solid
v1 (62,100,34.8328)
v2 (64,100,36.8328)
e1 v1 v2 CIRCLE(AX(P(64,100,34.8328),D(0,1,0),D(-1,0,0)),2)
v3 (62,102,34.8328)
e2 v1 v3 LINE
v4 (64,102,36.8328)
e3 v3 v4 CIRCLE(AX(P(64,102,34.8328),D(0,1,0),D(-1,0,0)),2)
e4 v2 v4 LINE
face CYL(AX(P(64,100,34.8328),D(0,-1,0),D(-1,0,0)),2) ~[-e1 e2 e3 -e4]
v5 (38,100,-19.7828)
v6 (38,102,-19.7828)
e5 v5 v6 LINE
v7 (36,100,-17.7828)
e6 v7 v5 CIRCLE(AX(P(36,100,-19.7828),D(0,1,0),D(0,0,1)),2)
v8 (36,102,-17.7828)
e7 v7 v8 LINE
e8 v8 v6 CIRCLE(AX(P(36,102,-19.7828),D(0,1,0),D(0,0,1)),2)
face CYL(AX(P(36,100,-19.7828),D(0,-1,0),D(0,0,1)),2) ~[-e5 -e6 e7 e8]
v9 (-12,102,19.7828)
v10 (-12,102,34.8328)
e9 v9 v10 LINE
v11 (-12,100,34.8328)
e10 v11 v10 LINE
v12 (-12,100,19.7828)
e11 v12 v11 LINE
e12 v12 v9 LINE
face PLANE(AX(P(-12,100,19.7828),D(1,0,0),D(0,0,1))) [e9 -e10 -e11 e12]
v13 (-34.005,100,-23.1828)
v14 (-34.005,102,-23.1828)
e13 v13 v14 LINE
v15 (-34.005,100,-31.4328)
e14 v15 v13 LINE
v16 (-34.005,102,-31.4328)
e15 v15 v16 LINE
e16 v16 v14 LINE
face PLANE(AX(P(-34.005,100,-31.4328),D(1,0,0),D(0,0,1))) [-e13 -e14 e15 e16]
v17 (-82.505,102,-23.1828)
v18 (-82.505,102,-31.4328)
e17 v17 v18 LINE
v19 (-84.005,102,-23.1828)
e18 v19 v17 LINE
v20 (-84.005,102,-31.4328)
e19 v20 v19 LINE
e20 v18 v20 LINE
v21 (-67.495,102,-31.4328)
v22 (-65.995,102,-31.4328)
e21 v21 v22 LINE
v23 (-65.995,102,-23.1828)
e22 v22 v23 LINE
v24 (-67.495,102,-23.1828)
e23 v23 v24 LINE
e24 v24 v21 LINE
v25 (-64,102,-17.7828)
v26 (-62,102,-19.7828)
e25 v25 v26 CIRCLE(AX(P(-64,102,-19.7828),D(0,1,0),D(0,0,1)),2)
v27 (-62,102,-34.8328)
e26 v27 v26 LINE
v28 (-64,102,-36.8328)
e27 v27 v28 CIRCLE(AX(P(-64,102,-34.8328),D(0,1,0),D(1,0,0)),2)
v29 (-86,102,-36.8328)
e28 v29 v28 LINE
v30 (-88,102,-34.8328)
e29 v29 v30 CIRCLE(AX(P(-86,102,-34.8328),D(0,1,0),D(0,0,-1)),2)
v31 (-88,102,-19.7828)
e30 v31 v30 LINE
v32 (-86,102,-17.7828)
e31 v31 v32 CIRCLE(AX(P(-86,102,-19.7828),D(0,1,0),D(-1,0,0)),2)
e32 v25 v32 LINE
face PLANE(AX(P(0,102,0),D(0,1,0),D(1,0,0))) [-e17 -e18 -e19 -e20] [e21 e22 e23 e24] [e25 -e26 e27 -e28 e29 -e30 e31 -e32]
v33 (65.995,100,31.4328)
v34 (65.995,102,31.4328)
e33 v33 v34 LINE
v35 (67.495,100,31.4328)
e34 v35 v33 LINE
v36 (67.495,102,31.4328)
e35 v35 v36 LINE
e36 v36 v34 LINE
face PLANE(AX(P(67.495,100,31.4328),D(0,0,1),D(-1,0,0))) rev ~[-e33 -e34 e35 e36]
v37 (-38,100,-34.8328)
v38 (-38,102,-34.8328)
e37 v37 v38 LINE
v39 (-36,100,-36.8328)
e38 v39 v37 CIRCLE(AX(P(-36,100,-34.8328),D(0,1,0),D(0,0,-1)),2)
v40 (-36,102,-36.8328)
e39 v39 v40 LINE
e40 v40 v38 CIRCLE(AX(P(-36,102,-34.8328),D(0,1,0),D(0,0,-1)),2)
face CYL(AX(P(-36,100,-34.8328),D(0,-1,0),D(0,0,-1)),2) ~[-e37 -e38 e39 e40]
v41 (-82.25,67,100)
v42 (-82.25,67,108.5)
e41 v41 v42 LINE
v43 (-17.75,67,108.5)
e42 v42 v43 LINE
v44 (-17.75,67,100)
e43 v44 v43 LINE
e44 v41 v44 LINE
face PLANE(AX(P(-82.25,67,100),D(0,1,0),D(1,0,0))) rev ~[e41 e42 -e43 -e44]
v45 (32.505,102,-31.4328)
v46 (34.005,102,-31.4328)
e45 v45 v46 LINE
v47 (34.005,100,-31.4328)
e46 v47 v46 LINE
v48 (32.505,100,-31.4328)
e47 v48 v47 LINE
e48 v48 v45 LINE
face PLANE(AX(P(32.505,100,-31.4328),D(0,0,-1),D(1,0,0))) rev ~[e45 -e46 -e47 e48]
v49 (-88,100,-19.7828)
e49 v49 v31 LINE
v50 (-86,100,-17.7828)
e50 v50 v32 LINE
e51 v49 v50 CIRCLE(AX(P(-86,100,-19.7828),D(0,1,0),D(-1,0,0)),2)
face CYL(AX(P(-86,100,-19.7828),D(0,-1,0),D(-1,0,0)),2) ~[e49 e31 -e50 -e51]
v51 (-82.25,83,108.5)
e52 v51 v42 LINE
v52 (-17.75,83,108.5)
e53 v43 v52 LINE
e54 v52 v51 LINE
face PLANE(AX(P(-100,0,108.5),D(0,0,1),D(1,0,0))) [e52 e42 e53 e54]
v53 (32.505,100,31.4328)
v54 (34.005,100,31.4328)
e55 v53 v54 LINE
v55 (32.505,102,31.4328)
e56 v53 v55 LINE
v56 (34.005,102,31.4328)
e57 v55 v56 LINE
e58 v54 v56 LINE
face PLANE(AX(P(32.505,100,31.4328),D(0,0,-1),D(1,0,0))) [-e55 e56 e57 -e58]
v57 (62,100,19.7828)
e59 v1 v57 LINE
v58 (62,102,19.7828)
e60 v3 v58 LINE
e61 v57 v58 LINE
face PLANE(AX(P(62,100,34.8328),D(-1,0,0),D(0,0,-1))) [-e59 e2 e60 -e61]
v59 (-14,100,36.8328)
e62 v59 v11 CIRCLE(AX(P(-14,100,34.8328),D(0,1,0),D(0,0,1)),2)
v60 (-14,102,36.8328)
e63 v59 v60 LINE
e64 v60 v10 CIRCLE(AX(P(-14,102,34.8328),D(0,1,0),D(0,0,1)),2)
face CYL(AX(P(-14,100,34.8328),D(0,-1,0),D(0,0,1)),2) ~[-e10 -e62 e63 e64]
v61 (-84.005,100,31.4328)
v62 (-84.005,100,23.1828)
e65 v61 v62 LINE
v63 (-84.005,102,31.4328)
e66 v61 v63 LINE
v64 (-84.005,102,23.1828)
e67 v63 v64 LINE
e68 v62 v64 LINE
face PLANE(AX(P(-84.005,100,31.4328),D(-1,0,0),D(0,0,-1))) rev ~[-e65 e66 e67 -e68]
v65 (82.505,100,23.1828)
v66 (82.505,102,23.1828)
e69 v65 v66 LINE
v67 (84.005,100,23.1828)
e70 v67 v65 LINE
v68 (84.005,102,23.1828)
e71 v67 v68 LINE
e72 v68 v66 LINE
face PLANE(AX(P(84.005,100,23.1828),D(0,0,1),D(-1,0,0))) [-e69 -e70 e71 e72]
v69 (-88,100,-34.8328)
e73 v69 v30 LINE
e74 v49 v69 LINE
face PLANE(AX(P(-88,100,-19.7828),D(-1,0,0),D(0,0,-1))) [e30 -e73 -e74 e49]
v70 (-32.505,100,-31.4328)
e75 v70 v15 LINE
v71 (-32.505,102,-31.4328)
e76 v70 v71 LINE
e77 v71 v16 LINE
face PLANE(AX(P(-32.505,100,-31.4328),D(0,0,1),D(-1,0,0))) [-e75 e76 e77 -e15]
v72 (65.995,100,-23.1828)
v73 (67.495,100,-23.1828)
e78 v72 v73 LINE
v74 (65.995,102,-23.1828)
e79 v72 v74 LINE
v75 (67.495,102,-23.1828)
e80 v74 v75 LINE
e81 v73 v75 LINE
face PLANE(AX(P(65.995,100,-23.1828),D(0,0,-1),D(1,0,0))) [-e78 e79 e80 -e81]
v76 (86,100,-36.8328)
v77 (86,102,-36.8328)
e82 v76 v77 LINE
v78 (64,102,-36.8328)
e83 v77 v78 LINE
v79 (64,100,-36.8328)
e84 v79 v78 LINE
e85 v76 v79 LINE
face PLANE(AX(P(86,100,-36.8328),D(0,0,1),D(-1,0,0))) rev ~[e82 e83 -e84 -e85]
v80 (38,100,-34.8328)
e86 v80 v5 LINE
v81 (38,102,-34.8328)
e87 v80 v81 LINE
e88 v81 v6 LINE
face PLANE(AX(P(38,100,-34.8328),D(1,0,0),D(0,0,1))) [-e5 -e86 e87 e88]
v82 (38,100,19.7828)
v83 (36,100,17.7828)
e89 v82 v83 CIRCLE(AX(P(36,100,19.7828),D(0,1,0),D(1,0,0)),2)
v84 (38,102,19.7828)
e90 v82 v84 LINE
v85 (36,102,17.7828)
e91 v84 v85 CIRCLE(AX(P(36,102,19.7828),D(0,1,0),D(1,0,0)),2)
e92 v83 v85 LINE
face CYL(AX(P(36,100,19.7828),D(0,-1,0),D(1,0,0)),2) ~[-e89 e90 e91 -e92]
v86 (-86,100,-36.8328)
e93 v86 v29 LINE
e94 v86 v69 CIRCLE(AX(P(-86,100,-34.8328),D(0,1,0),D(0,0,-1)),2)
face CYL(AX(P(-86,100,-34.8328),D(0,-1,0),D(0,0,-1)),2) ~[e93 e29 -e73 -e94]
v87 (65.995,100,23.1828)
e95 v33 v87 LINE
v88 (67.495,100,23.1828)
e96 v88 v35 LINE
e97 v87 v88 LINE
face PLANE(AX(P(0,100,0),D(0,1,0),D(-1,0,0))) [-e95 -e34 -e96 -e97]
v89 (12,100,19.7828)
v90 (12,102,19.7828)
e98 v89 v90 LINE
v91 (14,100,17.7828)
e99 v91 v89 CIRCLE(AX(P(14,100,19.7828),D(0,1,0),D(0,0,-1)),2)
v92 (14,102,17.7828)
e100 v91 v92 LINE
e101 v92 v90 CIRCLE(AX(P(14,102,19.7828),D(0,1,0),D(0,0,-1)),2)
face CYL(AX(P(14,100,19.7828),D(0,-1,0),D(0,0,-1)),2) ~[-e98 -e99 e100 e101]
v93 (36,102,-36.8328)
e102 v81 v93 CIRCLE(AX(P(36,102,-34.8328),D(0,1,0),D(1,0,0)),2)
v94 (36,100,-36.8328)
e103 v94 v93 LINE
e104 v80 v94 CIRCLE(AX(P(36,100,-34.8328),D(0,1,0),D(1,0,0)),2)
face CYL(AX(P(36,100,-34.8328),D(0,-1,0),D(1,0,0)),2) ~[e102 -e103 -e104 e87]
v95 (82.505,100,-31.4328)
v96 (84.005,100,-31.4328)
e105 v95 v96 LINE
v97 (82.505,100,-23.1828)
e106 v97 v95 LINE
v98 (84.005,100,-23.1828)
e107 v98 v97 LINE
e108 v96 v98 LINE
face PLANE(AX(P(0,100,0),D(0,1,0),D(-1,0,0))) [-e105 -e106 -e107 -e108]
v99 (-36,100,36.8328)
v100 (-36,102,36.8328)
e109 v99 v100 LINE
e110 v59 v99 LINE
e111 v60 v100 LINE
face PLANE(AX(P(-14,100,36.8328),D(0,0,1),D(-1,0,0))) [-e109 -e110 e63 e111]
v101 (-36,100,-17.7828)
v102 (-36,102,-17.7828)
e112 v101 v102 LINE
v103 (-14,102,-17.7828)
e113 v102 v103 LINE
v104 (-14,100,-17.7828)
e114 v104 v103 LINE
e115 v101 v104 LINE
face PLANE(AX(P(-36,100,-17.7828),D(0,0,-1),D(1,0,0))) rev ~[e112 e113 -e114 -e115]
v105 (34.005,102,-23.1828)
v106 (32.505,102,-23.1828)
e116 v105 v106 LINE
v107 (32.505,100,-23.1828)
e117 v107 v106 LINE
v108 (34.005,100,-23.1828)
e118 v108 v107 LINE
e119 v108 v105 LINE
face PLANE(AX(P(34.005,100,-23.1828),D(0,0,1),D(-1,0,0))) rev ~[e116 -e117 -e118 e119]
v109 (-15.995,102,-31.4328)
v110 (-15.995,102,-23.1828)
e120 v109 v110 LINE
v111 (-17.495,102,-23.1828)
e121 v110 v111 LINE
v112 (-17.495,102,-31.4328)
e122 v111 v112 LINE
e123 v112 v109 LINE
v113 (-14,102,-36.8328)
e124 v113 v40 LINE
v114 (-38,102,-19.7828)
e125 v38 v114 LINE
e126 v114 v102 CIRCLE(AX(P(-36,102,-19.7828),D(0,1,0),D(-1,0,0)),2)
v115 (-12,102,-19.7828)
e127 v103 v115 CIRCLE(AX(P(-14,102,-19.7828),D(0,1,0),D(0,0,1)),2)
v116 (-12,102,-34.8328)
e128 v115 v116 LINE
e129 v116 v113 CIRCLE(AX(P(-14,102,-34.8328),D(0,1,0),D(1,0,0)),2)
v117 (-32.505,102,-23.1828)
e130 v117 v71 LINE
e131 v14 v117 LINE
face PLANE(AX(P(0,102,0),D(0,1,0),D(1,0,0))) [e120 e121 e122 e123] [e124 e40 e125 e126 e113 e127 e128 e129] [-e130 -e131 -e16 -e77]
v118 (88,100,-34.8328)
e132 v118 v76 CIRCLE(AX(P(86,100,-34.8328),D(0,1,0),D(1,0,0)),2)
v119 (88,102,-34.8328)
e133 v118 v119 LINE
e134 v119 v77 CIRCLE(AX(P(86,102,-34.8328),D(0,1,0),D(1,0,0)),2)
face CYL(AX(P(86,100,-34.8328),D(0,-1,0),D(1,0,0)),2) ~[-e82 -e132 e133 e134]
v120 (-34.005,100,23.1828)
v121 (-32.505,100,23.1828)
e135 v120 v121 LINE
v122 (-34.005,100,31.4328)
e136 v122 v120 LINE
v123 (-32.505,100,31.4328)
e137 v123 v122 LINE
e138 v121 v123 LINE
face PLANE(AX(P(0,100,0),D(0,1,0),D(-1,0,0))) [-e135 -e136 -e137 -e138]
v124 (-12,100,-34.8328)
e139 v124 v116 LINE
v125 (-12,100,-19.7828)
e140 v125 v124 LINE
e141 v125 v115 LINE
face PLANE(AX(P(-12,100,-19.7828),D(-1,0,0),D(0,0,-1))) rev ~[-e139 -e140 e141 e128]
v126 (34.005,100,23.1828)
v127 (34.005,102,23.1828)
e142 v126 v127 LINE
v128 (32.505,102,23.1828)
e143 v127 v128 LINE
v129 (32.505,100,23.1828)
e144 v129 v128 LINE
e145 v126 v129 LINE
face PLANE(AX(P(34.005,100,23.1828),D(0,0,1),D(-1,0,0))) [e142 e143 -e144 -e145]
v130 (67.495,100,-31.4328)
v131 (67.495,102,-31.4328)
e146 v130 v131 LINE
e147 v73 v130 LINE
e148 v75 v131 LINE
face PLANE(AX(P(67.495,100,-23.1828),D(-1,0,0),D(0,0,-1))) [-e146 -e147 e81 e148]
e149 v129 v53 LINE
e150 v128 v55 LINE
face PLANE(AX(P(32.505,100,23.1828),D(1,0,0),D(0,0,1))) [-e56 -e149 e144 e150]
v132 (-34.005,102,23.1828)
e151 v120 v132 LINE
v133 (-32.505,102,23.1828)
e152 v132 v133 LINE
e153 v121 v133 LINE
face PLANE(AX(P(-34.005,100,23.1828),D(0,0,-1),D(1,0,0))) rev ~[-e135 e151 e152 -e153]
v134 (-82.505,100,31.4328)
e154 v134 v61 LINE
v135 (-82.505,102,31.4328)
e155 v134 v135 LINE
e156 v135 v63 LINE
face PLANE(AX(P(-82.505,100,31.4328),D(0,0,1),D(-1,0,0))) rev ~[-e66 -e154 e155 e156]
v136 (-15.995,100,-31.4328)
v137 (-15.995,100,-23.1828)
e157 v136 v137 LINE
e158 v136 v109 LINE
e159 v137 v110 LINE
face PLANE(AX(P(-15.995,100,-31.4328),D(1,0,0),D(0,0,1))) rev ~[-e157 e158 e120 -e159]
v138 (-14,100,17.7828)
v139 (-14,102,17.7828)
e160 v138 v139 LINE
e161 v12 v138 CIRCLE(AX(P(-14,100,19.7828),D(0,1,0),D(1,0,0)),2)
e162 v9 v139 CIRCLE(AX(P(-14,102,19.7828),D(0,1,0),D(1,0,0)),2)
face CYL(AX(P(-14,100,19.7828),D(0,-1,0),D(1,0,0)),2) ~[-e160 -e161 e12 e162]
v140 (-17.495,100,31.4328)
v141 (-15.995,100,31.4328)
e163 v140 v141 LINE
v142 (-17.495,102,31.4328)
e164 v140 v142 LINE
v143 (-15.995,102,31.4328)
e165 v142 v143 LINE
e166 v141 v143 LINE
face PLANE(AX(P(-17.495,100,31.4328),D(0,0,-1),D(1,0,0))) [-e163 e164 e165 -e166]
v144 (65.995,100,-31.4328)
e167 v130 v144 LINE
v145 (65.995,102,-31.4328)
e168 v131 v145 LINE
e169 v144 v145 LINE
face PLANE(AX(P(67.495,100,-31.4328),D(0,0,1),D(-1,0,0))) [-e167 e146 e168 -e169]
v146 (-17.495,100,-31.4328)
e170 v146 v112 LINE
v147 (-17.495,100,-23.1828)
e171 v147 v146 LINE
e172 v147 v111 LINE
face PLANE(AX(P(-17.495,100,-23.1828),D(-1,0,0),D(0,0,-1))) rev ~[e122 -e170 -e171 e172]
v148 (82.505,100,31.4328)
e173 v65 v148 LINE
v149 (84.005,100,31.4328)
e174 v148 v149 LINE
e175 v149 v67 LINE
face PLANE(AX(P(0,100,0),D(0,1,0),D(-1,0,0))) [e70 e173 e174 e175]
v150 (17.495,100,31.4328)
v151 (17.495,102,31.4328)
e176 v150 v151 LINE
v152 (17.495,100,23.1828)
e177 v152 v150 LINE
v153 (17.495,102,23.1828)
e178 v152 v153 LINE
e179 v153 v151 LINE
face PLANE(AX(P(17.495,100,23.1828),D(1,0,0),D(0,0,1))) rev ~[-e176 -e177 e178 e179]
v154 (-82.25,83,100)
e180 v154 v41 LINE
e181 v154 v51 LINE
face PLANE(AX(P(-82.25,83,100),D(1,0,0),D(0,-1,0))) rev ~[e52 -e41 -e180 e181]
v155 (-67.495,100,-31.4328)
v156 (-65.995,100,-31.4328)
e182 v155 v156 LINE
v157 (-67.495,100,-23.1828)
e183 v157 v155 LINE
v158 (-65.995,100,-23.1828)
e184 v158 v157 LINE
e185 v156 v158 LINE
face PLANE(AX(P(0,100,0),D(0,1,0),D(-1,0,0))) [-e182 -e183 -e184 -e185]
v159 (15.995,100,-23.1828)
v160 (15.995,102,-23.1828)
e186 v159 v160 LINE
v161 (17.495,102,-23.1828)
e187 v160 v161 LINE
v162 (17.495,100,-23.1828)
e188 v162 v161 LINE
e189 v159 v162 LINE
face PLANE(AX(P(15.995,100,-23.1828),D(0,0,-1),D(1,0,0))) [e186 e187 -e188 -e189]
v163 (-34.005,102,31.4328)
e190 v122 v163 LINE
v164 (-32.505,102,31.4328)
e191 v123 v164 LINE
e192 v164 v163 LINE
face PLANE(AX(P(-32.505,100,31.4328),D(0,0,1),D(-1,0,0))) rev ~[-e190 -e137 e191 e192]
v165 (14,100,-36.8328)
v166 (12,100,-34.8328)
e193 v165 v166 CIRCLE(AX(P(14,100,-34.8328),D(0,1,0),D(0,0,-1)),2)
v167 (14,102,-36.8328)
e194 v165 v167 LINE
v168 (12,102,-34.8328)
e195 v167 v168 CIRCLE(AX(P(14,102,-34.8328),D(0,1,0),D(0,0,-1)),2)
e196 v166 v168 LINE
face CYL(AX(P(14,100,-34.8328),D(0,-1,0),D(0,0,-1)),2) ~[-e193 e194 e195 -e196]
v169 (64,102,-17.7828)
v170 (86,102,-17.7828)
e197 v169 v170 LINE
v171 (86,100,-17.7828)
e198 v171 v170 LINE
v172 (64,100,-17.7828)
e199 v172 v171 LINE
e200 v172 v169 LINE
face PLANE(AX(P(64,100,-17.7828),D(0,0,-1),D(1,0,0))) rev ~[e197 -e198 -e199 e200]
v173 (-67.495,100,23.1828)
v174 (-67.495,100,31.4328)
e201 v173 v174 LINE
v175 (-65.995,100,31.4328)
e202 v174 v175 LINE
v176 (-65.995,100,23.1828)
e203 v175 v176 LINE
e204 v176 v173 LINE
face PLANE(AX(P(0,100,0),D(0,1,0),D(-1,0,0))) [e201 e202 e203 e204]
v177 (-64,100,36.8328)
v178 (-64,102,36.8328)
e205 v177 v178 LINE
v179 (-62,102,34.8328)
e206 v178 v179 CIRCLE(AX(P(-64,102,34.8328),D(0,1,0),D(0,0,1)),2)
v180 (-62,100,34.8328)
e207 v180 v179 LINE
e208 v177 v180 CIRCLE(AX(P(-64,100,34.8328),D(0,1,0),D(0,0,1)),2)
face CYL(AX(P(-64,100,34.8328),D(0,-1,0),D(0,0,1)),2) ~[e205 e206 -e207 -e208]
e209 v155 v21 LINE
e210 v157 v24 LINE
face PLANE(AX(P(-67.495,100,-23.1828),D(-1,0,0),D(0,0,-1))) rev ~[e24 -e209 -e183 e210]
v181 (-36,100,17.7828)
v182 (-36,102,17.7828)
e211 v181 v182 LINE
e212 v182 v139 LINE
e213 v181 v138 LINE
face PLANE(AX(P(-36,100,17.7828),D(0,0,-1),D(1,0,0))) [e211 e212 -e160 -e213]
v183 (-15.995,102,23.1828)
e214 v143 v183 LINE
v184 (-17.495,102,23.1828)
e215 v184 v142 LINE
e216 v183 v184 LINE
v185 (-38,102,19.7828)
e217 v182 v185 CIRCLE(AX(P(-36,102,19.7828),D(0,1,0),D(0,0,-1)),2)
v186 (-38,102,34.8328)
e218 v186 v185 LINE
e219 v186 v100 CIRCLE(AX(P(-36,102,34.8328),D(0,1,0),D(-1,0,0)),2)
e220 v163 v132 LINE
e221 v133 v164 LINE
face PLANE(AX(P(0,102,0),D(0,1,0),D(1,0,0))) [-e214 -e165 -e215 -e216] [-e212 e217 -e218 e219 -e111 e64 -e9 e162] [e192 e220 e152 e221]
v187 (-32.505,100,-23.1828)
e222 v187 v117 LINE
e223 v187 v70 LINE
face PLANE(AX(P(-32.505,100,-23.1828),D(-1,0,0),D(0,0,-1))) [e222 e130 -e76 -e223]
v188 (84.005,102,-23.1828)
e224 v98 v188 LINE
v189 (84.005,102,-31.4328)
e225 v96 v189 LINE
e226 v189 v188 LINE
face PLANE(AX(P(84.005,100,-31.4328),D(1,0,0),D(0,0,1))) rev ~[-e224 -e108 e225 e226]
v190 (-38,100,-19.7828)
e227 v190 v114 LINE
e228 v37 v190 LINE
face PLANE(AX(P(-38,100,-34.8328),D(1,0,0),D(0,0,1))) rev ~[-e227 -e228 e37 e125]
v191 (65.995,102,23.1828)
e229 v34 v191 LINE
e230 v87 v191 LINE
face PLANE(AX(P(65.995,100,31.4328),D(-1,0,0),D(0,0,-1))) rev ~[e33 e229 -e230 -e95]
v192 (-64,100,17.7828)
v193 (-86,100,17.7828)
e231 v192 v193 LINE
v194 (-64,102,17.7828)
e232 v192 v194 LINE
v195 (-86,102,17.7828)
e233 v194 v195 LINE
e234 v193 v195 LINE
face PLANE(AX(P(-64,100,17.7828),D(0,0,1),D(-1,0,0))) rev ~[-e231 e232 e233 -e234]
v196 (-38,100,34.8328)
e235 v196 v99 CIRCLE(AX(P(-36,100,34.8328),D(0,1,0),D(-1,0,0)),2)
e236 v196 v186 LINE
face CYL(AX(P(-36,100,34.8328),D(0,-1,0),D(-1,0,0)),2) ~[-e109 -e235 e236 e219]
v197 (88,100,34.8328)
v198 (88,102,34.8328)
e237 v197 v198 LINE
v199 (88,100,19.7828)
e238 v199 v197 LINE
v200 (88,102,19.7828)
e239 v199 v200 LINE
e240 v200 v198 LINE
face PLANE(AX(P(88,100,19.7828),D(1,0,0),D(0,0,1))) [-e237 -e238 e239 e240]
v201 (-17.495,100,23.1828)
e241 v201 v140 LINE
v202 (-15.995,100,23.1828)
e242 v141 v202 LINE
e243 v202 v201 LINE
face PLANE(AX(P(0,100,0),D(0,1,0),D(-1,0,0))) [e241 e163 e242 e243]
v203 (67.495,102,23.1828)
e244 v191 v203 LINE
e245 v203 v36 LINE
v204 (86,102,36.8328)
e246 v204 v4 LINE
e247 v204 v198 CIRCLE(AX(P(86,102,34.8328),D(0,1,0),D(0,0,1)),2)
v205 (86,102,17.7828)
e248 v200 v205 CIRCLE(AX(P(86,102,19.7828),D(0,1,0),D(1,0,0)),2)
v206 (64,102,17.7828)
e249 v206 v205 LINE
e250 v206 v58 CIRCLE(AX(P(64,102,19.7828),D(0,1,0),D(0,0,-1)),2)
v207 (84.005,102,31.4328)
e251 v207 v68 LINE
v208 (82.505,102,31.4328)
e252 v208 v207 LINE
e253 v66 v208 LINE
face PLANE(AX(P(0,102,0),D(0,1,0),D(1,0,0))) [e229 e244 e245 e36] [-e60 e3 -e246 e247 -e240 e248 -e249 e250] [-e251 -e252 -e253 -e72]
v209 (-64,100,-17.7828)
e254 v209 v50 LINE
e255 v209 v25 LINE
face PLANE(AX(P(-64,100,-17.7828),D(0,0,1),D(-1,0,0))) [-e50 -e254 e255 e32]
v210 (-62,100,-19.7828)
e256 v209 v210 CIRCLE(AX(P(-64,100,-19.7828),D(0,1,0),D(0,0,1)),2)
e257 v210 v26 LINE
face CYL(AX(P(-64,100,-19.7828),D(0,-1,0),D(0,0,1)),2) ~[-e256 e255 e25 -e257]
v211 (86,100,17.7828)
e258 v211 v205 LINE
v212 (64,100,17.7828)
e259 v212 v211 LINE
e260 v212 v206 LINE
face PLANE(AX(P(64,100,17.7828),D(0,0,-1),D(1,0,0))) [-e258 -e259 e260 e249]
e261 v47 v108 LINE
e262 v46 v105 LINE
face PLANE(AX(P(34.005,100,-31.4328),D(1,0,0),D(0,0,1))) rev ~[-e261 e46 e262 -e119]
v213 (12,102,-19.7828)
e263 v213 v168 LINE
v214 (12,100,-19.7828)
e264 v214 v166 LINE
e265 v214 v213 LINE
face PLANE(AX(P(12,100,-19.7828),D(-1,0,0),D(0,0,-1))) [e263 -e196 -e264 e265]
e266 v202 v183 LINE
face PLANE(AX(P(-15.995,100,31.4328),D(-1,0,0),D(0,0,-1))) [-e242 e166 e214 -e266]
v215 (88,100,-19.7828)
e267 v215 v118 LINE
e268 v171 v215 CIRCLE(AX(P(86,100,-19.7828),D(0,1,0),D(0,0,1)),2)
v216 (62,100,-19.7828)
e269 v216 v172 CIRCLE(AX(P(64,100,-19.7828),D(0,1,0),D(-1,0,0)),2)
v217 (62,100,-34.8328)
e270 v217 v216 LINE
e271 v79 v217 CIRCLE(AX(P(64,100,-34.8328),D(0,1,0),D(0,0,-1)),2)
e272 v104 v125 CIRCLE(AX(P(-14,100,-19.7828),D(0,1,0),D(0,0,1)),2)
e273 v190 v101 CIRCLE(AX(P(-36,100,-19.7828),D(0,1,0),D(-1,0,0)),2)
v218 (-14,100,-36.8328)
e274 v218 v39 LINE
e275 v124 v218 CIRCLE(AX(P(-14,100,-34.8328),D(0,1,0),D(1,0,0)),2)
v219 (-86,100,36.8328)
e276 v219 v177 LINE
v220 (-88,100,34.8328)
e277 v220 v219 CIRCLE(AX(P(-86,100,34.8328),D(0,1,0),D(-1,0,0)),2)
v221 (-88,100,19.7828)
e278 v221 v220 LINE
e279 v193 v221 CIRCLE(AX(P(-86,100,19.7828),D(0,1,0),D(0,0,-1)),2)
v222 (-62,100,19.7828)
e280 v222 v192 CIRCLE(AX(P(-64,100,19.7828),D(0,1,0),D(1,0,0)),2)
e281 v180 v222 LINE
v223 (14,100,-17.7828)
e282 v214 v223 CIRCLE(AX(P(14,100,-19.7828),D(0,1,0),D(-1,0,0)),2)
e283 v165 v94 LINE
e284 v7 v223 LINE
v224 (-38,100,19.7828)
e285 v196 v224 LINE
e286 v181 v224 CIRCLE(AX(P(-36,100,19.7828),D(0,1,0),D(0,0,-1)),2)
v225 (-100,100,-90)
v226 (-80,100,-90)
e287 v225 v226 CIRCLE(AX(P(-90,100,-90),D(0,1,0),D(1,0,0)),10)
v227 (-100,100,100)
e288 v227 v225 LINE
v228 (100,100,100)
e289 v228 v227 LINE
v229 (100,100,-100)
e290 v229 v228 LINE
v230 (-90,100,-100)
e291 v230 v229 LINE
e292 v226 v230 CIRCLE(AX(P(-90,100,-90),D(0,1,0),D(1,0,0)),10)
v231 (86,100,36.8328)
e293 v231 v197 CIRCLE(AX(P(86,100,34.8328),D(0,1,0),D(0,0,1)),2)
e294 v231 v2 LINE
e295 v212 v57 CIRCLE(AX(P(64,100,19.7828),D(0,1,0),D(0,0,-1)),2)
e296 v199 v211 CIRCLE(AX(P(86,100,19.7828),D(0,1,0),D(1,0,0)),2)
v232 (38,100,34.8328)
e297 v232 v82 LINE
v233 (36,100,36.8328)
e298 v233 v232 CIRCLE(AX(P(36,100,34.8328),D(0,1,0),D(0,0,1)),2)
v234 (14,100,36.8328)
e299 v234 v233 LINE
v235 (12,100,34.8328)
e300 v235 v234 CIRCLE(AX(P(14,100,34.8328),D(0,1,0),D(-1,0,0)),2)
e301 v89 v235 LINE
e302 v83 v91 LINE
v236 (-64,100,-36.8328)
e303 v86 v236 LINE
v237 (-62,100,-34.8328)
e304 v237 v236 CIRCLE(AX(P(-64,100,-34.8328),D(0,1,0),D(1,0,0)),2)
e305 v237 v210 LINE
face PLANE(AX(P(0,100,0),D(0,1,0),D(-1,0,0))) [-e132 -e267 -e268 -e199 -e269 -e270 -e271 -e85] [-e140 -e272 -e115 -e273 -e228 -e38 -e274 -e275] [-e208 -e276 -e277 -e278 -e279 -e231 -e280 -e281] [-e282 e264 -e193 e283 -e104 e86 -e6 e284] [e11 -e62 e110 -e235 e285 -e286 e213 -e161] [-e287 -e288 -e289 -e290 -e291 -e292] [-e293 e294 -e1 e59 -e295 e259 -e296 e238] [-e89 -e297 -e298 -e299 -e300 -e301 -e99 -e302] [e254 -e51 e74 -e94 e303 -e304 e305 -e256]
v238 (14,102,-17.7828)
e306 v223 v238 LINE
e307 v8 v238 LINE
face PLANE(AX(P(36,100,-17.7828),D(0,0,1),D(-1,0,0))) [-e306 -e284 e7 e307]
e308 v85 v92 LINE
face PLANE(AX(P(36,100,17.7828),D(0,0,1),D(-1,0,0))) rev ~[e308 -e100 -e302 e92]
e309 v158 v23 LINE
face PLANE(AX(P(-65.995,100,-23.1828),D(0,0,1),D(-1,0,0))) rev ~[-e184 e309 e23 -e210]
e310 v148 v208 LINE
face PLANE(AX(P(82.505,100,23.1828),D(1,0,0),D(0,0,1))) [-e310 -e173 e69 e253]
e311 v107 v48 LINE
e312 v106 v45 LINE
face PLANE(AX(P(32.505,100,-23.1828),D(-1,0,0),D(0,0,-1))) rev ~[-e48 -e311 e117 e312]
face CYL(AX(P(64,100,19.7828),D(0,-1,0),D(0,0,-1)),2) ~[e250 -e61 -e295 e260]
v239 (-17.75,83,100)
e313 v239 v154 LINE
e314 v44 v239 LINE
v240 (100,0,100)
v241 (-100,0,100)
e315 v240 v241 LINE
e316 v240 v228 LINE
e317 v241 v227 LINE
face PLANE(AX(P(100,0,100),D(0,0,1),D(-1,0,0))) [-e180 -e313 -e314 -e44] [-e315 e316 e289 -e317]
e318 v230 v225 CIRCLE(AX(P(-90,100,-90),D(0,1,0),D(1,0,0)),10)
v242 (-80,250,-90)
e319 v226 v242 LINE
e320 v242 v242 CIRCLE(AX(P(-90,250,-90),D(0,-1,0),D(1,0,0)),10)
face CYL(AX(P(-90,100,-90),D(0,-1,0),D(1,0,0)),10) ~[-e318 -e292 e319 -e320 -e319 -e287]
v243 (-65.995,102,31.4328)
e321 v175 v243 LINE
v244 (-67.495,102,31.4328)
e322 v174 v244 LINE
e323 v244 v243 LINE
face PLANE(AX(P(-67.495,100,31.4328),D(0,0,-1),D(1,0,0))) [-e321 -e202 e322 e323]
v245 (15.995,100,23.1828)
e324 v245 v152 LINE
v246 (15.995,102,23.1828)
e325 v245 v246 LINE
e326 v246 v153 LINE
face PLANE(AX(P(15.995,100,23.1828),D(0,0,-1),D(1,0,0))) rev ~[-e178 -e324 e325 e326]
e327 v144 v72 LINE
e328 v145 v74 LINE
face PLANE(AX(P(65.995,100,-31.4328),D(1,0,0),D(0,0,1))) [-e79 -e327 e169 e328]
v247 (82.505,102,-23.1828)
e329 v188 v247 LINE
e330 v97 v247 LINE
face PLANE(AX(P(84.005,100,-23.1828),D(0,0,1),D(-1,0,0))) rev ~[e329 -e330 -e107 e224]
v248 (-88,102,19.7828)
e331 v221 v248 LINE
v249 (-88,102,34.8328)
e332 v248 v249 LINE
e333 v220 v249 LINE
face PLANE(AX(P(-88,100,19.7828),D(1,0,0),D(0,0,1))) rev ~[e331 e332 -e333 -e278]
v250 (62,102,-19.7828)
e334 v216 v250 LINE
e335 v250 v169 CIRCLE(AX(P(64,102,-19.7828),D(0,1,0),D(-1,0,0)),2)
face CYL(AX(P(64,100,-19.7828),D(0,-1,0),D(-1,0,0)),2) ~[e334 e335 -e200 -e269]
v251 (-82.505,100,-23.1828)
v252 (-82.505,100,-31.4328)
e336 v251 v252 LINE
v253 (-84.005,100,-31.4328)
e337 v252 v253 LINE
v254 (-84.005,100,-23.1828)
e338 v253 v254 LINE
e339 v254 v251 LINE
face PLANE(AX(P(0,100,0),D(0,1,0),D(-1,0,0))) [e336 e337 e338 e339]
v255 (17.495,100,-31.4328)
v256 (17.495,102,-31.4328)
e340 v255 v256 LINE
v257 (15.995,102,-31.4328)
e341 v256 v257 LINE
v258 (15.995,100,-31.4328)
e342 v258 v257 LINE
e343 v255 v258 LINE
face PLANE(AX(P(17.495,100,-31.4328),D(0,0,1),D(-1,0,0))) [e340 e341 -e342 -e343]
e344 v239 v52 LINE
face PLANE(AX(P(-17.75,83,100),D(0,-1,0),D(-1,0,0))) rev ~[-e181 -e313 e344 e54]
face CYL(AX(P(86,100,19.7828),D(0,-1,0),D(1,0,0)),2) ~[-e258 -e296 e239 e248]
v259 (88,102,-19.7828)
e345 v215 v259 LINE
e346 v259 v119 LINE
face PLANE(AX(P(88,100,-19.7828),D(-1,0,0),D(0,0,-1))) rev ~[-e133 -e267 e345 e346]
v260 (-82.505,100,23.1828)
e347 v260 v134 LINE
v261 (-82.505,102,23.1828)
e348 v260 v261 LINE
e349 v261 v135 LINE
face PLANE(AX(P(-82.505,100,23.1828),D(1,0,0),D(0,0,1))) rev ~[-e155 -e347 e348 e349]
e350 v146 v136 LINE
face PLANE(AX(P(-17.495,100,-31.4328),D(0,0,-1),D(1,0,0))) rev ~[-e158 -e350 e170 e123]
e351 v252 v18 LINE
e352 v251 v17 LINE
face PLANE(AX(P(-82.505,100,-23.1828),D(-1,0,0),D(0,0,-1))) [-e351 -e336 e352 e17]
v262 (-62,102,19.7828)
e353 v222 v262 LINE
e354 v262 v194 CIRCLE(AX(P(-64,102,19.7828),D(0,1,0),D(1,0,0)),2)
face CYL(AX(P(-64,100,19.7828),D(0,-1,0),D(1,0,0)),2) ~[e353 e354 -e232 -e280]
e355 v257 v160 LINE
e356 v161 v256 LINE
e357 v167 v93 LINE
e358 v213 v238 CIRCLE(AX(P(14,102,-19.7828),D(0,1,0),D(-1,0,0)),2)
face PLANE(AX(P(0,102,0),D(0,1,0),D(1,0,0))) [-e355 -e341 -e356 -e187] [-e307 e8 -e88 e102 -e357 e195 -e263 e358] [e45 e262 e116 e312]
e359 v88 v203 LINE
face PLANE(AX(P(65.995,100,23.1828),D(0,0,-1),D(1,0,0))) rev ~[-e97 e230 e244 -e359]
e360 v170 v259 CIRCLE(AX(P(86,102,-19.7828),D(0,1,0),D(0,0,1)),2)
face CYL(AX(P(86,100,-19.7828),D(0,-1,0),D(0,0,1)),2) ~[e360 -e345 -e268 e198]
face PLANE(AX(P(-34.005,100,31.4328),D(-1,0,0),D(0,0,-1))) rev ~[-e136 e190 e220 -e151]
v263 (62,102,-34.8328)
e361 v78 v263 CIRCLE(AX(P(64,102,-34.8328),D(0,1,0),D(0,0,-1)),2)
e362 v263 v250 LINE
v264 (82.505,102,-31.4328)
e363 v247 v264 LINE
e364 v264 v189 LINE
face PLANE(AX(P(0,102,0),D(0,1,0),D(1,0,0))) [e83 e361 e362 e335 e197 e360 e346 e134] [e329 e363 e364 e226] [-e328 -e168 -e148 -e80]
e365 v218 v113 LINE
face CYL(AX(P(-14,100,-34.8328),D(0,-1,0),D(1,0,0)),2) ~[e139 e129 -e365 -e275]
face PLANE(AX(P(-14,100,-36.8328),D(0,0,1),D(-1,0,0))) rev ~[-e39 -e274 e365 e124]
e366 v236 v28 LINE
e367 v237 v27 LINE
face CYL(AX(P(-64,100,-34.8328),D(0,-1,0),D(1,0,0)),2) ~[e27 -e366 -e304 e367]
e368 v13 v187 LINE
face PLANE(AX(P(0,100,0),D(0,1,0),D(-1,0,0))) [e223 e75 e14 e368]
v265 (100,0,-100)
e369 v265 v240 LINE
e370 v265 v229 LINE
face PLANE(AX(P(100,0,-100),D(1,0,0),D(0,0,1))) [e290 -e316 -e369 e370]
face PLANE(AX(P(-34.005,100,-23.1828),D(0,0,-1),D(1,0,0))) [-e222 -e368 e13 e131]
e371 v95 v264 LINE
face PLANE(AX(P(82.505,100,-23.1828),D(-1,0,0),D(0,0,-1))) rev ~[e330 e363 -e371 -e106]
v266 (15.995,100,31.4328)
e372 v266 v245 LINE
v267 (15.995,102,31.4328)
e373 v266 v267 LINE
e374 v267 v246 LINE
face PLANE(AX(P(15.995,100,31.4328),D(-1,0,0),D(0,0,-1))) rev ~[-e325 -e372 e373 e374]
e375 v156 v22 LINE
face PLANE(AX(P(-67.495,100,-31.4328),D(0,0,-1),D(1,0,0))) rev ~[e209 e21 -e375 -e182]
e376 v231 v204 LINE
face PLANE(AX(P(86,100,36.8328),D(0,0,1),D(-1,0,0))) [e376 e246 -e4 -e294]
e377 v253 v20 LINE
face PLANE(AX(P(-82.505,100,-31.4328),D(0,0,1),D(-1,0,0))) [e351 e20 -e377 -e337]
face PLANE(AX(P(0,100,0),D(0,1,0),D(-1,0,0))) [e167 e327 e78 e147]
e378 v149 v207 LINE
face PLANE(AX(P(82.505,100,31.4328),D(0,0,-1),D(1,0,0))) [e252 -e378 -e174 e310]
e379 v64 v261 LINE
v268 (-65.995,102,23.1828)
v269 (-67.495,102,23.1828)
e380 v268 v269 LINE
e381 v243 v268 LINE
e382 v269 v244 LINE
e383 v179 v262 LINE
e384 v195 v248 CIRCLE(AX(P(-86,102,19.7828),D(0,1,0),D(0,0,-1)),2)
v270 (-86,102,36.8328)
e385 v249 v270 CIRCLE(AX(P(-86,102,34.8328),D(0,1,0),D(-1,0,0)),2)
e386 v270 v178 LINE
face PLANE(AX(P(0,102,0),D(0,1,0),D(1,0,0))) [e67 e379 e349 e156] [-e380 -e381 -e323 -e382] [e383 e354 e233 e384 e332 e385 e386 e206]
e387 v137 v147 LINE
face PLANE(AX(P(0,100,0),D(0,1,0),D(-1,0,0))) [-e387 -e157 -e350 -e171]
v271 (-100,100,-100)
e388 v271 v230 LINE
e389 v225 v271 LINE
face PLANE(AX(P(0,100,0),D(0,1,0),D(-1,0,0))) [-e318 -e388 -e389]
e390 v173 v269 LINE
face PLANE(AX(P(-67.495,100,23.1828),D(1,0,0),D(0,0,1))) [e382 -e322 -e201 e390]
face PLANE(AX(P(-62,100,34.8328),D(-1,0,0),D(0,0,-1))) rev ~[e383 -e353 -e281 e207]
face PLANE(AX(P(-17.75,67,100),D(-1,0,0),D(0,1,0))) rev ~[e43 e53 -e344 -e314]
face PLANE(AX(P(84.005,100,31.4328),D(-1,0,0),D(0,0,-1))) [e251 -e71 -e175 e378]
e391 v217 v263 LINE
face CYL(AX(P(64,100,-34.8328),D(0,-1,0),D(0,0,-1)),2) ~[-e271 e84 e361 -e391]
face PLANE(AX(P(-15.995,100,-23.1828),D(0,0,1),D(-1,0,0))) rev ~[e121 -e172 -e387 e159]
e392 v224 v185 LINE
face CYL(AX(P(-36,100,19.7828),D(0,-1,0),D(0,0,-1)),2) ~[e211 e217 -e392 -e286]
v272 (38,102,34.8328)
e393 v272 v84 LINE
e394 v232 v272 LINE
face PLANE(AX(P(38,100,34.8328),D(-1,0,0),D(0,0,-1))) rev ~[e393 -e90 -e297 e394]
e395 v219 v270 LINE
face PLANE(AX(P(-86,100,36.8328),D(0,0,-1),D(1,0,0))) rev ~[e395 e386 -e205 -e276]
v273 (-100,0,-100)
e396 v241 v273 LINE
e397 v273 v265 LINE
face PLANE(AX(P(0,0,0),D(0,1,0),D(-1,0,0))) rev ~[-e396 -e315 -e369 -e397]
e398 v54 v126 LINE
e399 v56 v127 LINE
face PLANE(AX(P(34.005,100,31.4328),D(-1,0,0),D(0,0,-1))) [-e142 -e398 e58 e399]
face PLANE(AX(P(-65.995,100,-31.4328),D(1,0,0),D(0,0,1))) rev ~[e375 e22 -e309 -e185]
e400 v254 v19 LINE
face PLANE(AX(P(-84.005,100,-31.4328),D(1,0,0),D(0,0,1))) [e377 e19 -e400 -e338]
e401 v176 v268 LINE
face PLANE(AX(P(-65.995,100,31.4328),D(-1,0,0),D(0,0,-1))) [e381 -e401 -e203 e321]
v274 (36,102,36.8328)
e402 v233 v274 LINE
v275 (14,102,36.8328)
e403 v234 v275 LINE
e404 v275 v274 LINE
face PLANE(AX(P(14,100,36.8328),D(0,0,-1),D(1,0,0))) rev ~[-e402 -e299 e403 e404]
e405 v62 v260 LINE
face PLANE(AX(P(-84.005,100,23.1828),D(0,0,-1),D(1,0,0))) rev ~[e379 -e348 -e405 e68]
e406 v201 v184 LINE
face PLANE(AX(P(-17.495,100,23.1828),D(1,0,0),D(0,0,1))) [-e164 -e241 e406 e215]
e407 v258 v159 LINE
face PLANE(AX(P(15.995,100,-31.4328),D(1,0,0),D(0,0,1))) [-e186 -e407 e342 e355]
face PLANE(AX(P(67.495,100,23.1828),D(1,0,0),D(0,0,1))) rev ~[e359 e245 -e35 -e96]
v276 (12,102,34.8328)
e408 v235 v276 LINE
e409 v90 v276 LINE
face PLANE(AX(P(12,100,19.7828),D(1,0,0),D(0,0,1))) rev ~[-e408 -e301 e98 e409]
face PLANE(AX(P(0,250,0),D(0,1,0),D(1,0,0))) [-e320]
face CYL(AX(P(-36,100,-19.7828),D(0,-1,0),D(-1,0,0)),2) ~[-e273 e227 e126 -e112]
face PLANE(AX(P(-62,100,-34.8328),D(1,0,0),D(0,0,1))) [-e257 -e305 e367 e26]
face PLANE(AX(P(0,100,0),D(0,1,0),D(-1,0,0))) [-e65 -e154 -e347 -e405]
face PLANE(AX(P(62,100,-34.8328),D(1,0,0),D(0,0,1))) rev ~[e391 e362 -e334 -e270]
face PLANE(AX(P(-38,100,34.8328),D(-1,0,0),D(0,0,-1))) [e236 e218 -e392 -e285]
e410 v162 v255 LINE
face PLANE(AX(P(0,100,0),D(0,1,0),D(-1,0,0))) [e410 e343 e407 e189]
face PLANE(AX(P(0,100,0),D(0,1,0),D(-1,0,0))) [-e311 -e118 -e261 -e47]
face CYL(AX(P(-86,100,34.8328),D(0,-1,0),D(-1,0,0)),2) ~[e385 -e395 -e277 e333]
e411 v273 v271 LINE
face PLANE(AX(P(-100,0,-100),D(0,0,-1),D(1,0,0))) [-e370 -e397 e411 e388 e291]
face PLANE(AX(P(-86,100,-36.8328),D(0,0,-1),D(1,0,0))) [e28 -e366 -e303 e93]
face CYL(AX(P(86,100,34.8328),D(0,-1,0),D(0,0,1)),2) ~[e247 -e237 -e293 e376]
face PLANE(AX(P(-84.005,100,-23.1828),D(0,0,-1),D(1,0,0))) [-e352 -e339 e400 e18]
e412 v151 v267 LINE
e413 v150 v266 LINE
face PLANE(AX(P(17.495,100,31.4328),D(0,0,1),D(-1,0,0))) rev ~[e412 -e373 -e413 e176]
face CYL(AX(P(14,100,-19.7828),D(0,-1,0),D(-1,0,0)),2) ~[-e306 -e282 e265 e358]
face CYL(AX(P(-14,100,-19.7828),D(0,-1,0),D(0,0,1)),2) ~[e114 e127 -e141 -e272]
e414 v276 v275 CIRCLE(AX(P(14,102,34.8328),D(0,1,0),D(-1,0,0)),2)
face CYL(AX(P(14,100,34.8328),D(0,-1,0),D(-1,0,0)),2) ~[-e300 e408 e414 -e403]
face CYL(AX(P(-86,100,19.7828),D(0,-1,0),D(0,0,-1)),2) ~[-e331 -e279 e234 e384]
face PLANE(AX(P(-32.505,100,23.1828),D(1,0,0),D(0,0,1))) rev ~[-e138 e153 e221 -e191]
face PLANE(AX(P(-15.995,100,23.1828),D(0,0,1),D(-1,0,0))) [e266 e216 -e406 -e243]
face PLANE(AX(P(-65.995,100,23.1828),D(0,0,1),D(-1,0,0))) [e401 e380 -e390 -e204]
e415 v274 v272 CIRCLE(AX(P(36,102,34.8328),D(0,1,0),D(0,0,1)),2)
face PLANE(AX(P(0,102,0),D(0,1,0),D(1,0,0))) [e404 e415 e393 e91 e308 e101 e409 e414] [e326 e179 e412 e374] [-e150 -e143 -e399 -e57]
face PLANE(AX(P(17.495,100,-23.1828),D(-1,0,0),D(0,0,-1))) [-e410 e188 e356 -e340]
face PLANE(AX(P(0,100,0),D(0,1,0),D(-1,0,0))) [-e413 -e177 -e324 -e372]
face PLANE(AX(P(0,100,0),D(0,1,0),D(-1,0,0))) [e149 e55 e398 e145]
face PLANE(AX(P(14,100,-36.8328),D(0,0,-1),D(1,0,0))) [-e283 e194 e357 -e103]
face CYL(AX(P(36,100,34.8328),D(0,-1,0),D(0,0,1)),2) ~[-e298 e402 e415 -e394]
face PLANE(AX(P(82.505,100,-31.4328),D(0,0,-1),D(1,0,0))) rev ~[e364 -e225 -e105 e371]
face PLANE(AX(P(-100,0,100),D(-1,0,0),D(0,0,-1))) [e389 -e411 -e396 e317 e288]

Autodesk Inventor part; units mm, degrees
ref_plane "YZ Plane" through (0, 0, 0) normal (1, 0, 0) x (0, 1, 0)
ref_plane "XZ Plane" through (0, 0, 0) normal (0, 1, 0) x (-1, 0, 0)
ref_plane "XY Plane" through (0, 0, 0) normal (0, 0, 1) x (1, 0, 0)
sketch "Boceto1" plane through (0, 0, 0) normal (0, 1, 0) x (-1, 0, 0)
  line L0 (-100, 100) -> (100, 100)
  line L1 (100, 100) -> (100, -100)
  line L2 (100, -100) -> (-100, -100)
  line L3 (-100, -100) -> (-100, 100)
  line L4 (-100, 100) -> (100, -100) construction
  line L5 (100, 100) -> (-100, -100) construction
  point P0 (0, 0)
  dimension "d0" = 200
  dimension "d3" = 200
extrude "Extrusión1" add sketch "Boceto1" along normal blind 100
sketch "Boceto2" plane through (0, 100, 0) normal (0, 1, 0) x (1, 0, 0)
  line L0 (-100, 100) -> (-100, -100) projected
  line L1 (-100, 80) -> (0, 80) construction
  line L2 (100, 100) -> (-100, 100) construction
  line L3 (-100, 100) -> (0, 100) construction
  circle A0 centre (-90, 90) radius 10
  point P0 (0, 0)
  dimension "d4" = 20
extrude "Extrusión2" add sketch "Boceto2" along normal blind 150
sketch "Boceto3" plane through (0, 100, 0) normal (0, 1, 0) x (1, 0, 0)
  line L0 (0, 0) -> (0, 54.6157) construction
  line L1 (0, 54.6157) -> (-100, 54.6157) construction
  line L2 (-100, 100) -> (-100, -100) projected
  line L3 (-50, 54.6157) -> (-50, 0) construction
  line L4 (100, -100) -> (100, 100) projected
  line L5 (0, 54.6157) -> (100, 54.6157) construction
  line L6 (50, 54.6157) -> (50, 0) construction
  line L7 (-100, 0) -> (100, 0) construction
  line L8 (0, -54.6157) -> (-100, -54.6157) construction
  line L9 (-50, -54.6157) -> (-50, 0) construction
  line L10 (0, -54.6157) -> (100, -54.6157) construction
  line L11 (50, -54.6157) -> (50, 0) construction
  line L12 (-75, 27.3078) -> (-75, 54.6157) construction
  line L13 (-86, 36.8328) -> (-64, 36.8328)
  line L14 (-62, 34.8328) -> (-62, 19.7828)
  line L15 (-64, 17.7828) -> (-86, 17.7828)
  line L16 (-88, 19.7828) -> (-88, 34.8328)
  line L17 (-88, 36.8328) -> (-62, 17.7828) construction
  line L18 (-62, 36.8328) -> (-88, 17.7828) construction
  line L19 (-75, 27.3078) -> (-83.255, 27.3078) construction
  line L20 (-83.255, 27.3078) -> (-83.255, 31.4328) construction
  line L21 (-84.005, 23.1828) -> (-82.505, 23.1828)
  line L22 (-82.505, 23.1828) -> (-82.505, 31.4328)
  line L23 (-82.505, 31.4328) -> (-84.005, 31.4328)
  line L24 (-84.005, 31.4328) -> (-84.005, 23.1828)
  line L25 (-84.005, 23.1828) -> (-82.505, 31.4328) construction
  line L26 (-82.505, 23.1828) -> (-84.005, 31.4328) construction
  line L27 (-66.745, 27.3078) -> (-66.745, 31.4328) construction
  line L28 (-65.995, 23.1828) -> (-67.495, 23.1828)
  line L29 (-67.495, 23.1828) -> (-67.495, 31.4328)
  line L30 (-67.495, 31.4328) -> (-65.995, 31.4328)
  line L31 (-65.995, 31.4328) -> (-65.995, 23.1828)
  line L32 (-65.995, 23.1828) -> (-67.495, 31.4328) construction
  line L33 (-67.495, 23.1828) -> (-65.995, 31.4328) construction
  arc A0 (-86, 36.8328) -> (-88, 34.8328) centre (-86, 34.8328) ccw
  arc A1 (-62, 34.8328) -> (-64, 36.8328) centre (-64, 34.8328) ccw
  arc A2 (-88, 19.7828) -> (-86, 17.7828) centre (-86, 19.7828) ccw
  arc A3 (-64, 17.7828) -> (-62, 19.7828) centre (-64, 19.7828) ccw
  line L34 (-25, 27.3078) -> (-25, 54.6157) construction
  line L35 (-14, 36.8328) -> (-36, 36.8328)
  line L36 (-38, 34.8328) -> (-38, 19.7828)
  line L37 (-36, 17.7828) -> (-14, 17.7828)
  line L38 (-12, 19.7828) -> (-12, 34.8328)
  line L39 (-12, 36.8328) -> (-38, 17.7828) construction
  line L40 (-38, 36.8328) -> (-12, 17.7828) construction
  line L41 (-25, 27.3078) -> (-16.745, 27.3078) construction
  line L42 (-16.745, 27.3078) -> (-16.745, 31.4328) construction
  line L43 (-15.995, 23.1828) -> (-17.495, 23.1828)
  line L44 (-17.495, 23.1828) -> (-17.495, 31.4328)
  line L45 (-17.495, 31.4328) -> (-15.995, 31.4328)
  line L46 (-15.995, 31.4328) -> (-15.995, 23.1828)
  line L47 (-15.995, 23.1828) -> (-17.495, 31.4328) construction
  line L48 (-17.495, 23.1828) -> (-15.995, 31.4328) construction
  line L49 (-34.005, 23.1828) -> (-32.505, 23.1828)
  line L50 (-32.505, 23.1828) -> (-32.505, 31.4328)
  line L51 (-34.005, 31.4328) -> (-34.005, 23.1828)
  line L52 (-34.005, 23.1828) -> (-32.505, 31.4328) construction
  line L53 (-32.505, 23.1828) -> (-34.005, 31.4328) construction
  line L54 (-33.255, 27.3078) -> (-33.255, 31.4328) construction
  line L55 (-32.505, 31.4328) -> (-34.005, 31.4328)
  arc A4 (-12, 34.8328) -> (-14, 36.8328) centre (-14, 34.8328) ccw
  arc A5 (-36, 36.8328) -> (-38, 34.8328) centre (-36, 34.8328) ccw
  arc A6 (-14, 17.7828) -> (-12, 19.7828) centre (-14, 19.7828) ccw
  arc A7 (-38, 19.7828) -> (-36, 17.7828) centre (-36, 19.7828) ccw
  line L56 (86, 36.8328) -> (64, 36.8328)
  line L57 (62, 34.8328) -> (62, 19.7828)
  line L58 (64, 17.7828) -> (86, 17.7828)
  line L59 (88, 19.7828) -> (88, 34.8328)
  line L60 (88, 36.8328) -> (62, 17.7828) construction
  line L61 (62, 36.8328) -> (88, 17.7828) construction
  line L62 (75, 27.3078) -> (83.255, 27.3078) construction
  line L63 (83.255, 27.3078) -> (83.255, 31.4328) construction
  line L64 (84.005, 23.1828) -> (82.505, 23.1828)
  line L65 (82.505, 23.1828) -> (82.505, 31.4328)
  line L66 (82.505, 31.4328) -> (84.005, 31.4328)
  line L67 (84.005, 31.4328) -> (84.005, 23.1828)
  line L68 (84.005, 23.1828) -> (82.505, 31.4328) construction
  line L69 (82.505, 23.1828) -> (84.005, 31.4328) construction
  line L70 (65.995, 23.1828) -> (67.495, 23.1828)
  line L71 (67.495, 23.1828) -> (67.495, 31.4328)
  line L72 (65.995, 31.4328) -> (65.995, 23.1828)
  line L73 (65.995, 23.1828) -> (67.495, 31.4328) construction
  line L74 (67.495, 23.1828) -> (65.995, 31.4328) construction
  line L75 (66.745, 27.3078) -> (66.745, 31.4328) construction
  line L76 (67.495, 31.4328) -> (65.995, 31.4328)
  arc A8 (88, 34.8328) -> (86, 36.8328) centre (86, 34.8328) ccw
  arc A9 (64, 36.8328) -> (62, 34.8328) centre (64, 34.8328) ccw
  arc A10 (86, 17.7828) -> (88, 19.7828) centre (86, 19.7828) ccw
  arc A11 (62, 19.7828) -> (64, 17.7828) centre (64, 19.7828) ccw
  arc A12 (36, 17.7828) -> (38, 19.7828) centre (36, 19.7828) ccw
  line L77 (34.005, 23.1828) -> (32.505, 23.1828)
  line L78 (32.505, 23.1828) -> (32.505, 31.4328)
  line L79 (34.005, 23.1828) -> (32.505, 31.4328) construction
  line L80 (32.505, 23.1828) -> (34.005, 31.4328) construction
  line L81 (32.505, 31.4328) -> (34.005, 31.4328)
  line L82 (34.005, 31.4328) -> (34.005, 23.1828)
  line L83 (38, 34.8328) -> (38, 19.7828)
  arc A13 (38, 34.8328) -> (36, 36.8328) centre (36, 34.8328) ccw
  line L84 (33.255, 27.3078) -> (33.255, 31.4328) construction
  line L85 (14, 36.8328) -> (36, 36.8328)
  line L86 (36, 17.7828) -> (14, 17.7828)
  line L87 (12, 19.7828) -> (12, 34.8328)
  line L88 (12, 36.8328) -> (38, 17.7828) construction
  line L89 (38, 36.8328) -> (12, 17.7828) construction
  line L90 (25, 27.3078) -> (16.745, 27.3078) construction
  line L91 (16.745, 27.3078) -> (16.745, 31.4328) construction
  line L92 (15.995, 23.1828) -> (17.495, 23.1828)
  line L93 (17.495, 23.1828) -> (17.495, 31.4328)
  line L94 (15.995, 31.4328) -> (15.995, 23.1828)
  line L95 (15.995, 23.1828) -> (17.495, 31.4328) construction
  line L96 (17.495, 23.1828) -> (15.995, 31.4328) construction
  arc A14 (12, 19.7828) -> (14, 17.7828) centre (14, 19.7828) ccw
  arc A15 (14, 36.8328) -> (12, 34.8328) centre (14, 34.8328) ccw
  line L97 (17.495, 31.4328) -> (15.995, 31.4328)
  line L98 (-86, -36.8328) -> (-64, -36.8328)
  line L99 (-62, -34.8328) -> (-62, -19.7828)
  line L100 (-64, -17.7828) -> (-86, -17.7828)
  line L101 (-88, -19.7828) -> (-88, -34.8328)
  line L102 (-88, -36.8328) -> (-62, -17.7828) construction
  line L103 (-62, -36.8328) -> (-88, -17.7828) construction
  line L104 (-75, -27.3078) -> (-83.255, -27.3078) construction
  line L105 (-83.255, -27.3078) -> (-83.255, -31.4328) construction
  line L106 (-84.005, -23.1828) -> (-82.505, -23.1828)
  line L107 (-82.505, -23.1828) -> (-82.505, -31.4328)
  line L108 (-82.505, -31.4328) -> (-84.005, -31.4328)
  line L109 (-84.005, -31.4328) -> (-84.005, -23.1828)
  line L110 (-84.005, -23.1828) -> (-82.505, -31.4328) construction
  line L111 (-82.505, -23.1828) -> (-84.005, -31.4328) construction
  line L112 (-65.995, -23.1828) -> (-67.495, -23.1828)
  line L113 (-67.495, -23.1828) -> (-67.495, -31.4328)
  line L114 (-65.995, -31.4328) -> (-65.995, -23.1828)
  line L115 (-65.995, -23.1828) -> (-67.495, -31.4328) construction
  line L116 (-67.495, -23.1828) -> (-65.995, -31.4328) construction
  line L117 (-66.745, -27.3078) -> (-66.745, -31.4328) construction
  line L118 (-67.495, -31.4328) -> (-65.995, -31.4328)
  arc A16 (-88, -34.8328) -> (-86, -36.8328) centre (-86, -34.8328) ccw
  arc A17 (-64, -36.8328) -> (-62, -34.8328) centre (-64, -34.8328) ccw
  arc A18 (-86, -17.7828) -> (-88, -19.7828) centre (-86, -19.7828) ccw
  arc A19 (-62, -19.7828) -> (-64, -17.7828) centre (-64, -19.7828) ccw
  arc A20 (-36, -17.7828) -> (-38, -19.7828) centre (-36, -19.7828) ccw
  line L119 (-34.005, -23.1828) -> (-32.505, -23.1828)
  line L120 (-32.505, -23.1828) -> (-32.505, -31.4328)
  line L121 (-34.005, -23.1828) -> (-32.505, -31.4328) construction
  line L122 (-32.505, -23.1828) -> (-34.005, -31.4328) construction
  line L123 (-32.505, -31.4328) -> (-34.005, -31.4328)
  line L124 (-34.005, -31.4328) -> (-34.005, -23.1828)
  line L125 (-38, -34.8328) -> (-38, -19.7828)
  arc A21 (-38, -34.8328) -> (-36, -36.8328) centre (-36, -34.8328) ccw
  line L126 (-33.255, -27.3078) -> (-33.255, -31.4328) construction
  line L127 (-14, -36.8328) -> (-36, -36.8328)
  line L128 (-36, -17.7828) -> (-14, -17.7828)
  line L129 (-12, -19.7828) -> (-12, -34.8328)
  line L130 (-12, -36.8328) -> (-38, -17.7828) construction
  line L131 (-38, -36.8328) -> (-12, -17.7828) construction
  line L132 (-25, -27.3078) -> (-16.745, -27.3078) construction
  line L133 (-16.745, -27.3078) -> (-16.745, -31.4328) construction
  line L134 (-15.995, -23.1828) -> (-17.495, -23.1828)
  line L135 (-17.495, -23.1828) -> (-17.495, -31.4328)
  line L136 (-15.995, -31.4328) -> (-15.995, -23.1828)
  line L137 (-15.995, -23.1828) -> (-17.495, -31.4328) construction
  line L138 (-17.495, -23.1828) -> (-15.995, -31.4328) construction
  arc A22 (-12, -19.7828) -> (-14, -17.7828) centre (-14, -19.7828) ccw
  arc A23 (-14, -36.8328) -> (-12, -34.8328) centre (-14, -34.8328) ccw
  line L139 (-17.495, -31.4328) -> (-15.995, -31.4328)
  line L140 (62, -34.8328) -> (62, -19.7828)
  line L141 (64, -17.7828) -> (86, -17.7828)
  line L142 (88, -36.8328) -> (62, -17.7828) construction
  line L143 (62, -36.8328) -> (88, -17.7828) construction
  line L144 (86, -36.8328) -> (64, -36.8328)
  line L145 (75, -27.3078) -> (83.255, -27.3078) construction
  line L146 (82.505, -23.1828) -> (82.505, -31.4328)
  arc A24 (88, -19.7828) -> (86, -17.7828) centre (86, -19.7828) ccw
  line L147 (83.255, -27.3078) -> (83.255, -31.4328) construction
  line L148 (84.005, -23.1828) -> (82.505, -31.4328) construction
  line L149 (82.505, -23.1828) -> (84.005, -31.4328) construction
  line L150 (84.005, -31.4328) -> (84.005, -23.1828)
  line L151 (82.505, -31.4328) -> (84.005, -31.4328)
  line L152 (88, -19.7828) -> (88, -34.8328)
  arc A25 (86, -36.8328) -> (88, -34.8328) centre (86, -34.8328) ccw
  line L153 (84.005, -23.1828) -> (82.505, -23.1828)
  line L154 (67.495, -31.4328) -> (65.995, -31.4328)
  line L155 (66.745, -27.3078) -> (66.745, -31.4328) construction
  line L156 (67.495, -23.1828) -> (67.495, -31.4328)
  arc A26 (62, -34.8328) -> (64, -36.8328) centre (64, -34.8328) ccw
  line L157 (65.995, -23.1828) -> (67.495, -23.1828)
  line L158 (65.995, -23.1828) -> (67.495, -31.4328) construction
  line L159 (67.495, -23.1828) -> (65.995, -31.4328) construction
  line L160 (65.995, -31.4328) -> (65.995, -23.1828)
  arc A27 (64, -17.7828) -> (62, -19.7828) centre (64, -19.7828) ccw
  arc A28 (38, -19.7828) -> (36, -17.7828) centre (36, -19.7828) ccw
  line L161 (38, -34.8328) -> (38, -19.7828)
  arc A29 (36, -36.8328) -> (38, -34.8328) centre (36, -34.8328) ccw
  line L162 (34.005, -31.4328) -> (34.005, -23.1828)
  line L163 (34.005, -23.1828) -> (32.505, -23.1828)
  line L164 (33.255, -27.3078) -> (33.255, -31.4328) construction
  line L165 (32.505, -31.4328) -> (34.005, -31.4328)
  line L166 (32.505, -23.1828) -> (32.505, -31.4328)
  line L167 (34.005, -23.1828) -> (32.505, -31.4328) construction
  line L168 (32.505, -23.1828) -> (34.005, -31.4328) construction
  line L169 (25, -27.3078) -> (16.745, -27.3078) construction
  line L170 (36, -17.7828) -> (14, -17.7828)
  line L171 (12, -36.8328) -> (38, -17.7828) construction
  line L172 (38, -36.8328) -> (12, -17.7828) construction
  line L173 (12, -19.7828) -> (12, -34.8328)
  line L174 (14, -36.8328) -> (36, -36.8328)
  arc A30 (12, -34.8328) -> (14, -36.8328) centre (14, -34.8328) ccw
  line L175 (17.495, -31.4328) -> (15.995, -31.4328)
  line L176 (16.745, -27.3078) -> (16.745, -31.4328) construction
  line L177 (15.995, -31.4328) -> (15.995, -23.1828)
  line L178 (17.495, -23.1828) -> (17.495, -31.4328)
  line L179 (15.995, -23.1828) -> (17.495, -23.1828)
  line L180 (17.495, -23.1828) -> (15.995, -31.4328) construction
  line L181 (15.995, -23.1828) -> (17.495, -31.4328) construction
  arc A31 (14, -17.7828) -> (12, -19.7828) centre (14, -19.7828) ccw
  dimension "d18" = 26
  dimension "d19" = 19.05
  dimension "d20" = 8.255
  dimension "d22" = 4.125
  dimension "d23" = 1.5
  dimension "d24" = 2
extrude "Extrusión3" add sketch "Boceto3" along normal blind 2
sketch "Boceto4" plane through (-100, 0, 100) normal (0, 0, 1) x (1, 0, 0)
  line L0 (100, 0) -> (100, 100) construction
  line L1 (0, 100) -> (200, 100) construction
  line L2 (0, 0) -> (0, 100) construction
  line L3 (200, 0) -> (200, 100) projected
  line L4 (200, 50) -> (0, 50) construction
  line L5 (0, 100) -> (0, 50) construction
  line L6 (0, 100) -> (100, 100) construction
  line L7 (50, 100) -> (50, 50) construction
  line L8 (50, 75) -> (0, 75) construction
  line L9 (50, 75) -> (100, 75) construction
  line L10 (17.75, 67) -> (82.25, 67)
  line L11 (82.25, 67) -> (82.25, 83)
  line L12 (82.25, 83) -> (17.75, 83)
  line L13 (17.75, 83) -> (17.75, 67)
  line L14 (17.75, 67) -> (82.25, 83) construction
  line L15 (82.25, 67) -> (17.75, 83) construction
  dimension "d27" = 64.5
  dimension "d28" = 16
extrude "Extrusión4" add sketch "Boceto4" along normal blind 8.5
properties part number "Prototipo"
